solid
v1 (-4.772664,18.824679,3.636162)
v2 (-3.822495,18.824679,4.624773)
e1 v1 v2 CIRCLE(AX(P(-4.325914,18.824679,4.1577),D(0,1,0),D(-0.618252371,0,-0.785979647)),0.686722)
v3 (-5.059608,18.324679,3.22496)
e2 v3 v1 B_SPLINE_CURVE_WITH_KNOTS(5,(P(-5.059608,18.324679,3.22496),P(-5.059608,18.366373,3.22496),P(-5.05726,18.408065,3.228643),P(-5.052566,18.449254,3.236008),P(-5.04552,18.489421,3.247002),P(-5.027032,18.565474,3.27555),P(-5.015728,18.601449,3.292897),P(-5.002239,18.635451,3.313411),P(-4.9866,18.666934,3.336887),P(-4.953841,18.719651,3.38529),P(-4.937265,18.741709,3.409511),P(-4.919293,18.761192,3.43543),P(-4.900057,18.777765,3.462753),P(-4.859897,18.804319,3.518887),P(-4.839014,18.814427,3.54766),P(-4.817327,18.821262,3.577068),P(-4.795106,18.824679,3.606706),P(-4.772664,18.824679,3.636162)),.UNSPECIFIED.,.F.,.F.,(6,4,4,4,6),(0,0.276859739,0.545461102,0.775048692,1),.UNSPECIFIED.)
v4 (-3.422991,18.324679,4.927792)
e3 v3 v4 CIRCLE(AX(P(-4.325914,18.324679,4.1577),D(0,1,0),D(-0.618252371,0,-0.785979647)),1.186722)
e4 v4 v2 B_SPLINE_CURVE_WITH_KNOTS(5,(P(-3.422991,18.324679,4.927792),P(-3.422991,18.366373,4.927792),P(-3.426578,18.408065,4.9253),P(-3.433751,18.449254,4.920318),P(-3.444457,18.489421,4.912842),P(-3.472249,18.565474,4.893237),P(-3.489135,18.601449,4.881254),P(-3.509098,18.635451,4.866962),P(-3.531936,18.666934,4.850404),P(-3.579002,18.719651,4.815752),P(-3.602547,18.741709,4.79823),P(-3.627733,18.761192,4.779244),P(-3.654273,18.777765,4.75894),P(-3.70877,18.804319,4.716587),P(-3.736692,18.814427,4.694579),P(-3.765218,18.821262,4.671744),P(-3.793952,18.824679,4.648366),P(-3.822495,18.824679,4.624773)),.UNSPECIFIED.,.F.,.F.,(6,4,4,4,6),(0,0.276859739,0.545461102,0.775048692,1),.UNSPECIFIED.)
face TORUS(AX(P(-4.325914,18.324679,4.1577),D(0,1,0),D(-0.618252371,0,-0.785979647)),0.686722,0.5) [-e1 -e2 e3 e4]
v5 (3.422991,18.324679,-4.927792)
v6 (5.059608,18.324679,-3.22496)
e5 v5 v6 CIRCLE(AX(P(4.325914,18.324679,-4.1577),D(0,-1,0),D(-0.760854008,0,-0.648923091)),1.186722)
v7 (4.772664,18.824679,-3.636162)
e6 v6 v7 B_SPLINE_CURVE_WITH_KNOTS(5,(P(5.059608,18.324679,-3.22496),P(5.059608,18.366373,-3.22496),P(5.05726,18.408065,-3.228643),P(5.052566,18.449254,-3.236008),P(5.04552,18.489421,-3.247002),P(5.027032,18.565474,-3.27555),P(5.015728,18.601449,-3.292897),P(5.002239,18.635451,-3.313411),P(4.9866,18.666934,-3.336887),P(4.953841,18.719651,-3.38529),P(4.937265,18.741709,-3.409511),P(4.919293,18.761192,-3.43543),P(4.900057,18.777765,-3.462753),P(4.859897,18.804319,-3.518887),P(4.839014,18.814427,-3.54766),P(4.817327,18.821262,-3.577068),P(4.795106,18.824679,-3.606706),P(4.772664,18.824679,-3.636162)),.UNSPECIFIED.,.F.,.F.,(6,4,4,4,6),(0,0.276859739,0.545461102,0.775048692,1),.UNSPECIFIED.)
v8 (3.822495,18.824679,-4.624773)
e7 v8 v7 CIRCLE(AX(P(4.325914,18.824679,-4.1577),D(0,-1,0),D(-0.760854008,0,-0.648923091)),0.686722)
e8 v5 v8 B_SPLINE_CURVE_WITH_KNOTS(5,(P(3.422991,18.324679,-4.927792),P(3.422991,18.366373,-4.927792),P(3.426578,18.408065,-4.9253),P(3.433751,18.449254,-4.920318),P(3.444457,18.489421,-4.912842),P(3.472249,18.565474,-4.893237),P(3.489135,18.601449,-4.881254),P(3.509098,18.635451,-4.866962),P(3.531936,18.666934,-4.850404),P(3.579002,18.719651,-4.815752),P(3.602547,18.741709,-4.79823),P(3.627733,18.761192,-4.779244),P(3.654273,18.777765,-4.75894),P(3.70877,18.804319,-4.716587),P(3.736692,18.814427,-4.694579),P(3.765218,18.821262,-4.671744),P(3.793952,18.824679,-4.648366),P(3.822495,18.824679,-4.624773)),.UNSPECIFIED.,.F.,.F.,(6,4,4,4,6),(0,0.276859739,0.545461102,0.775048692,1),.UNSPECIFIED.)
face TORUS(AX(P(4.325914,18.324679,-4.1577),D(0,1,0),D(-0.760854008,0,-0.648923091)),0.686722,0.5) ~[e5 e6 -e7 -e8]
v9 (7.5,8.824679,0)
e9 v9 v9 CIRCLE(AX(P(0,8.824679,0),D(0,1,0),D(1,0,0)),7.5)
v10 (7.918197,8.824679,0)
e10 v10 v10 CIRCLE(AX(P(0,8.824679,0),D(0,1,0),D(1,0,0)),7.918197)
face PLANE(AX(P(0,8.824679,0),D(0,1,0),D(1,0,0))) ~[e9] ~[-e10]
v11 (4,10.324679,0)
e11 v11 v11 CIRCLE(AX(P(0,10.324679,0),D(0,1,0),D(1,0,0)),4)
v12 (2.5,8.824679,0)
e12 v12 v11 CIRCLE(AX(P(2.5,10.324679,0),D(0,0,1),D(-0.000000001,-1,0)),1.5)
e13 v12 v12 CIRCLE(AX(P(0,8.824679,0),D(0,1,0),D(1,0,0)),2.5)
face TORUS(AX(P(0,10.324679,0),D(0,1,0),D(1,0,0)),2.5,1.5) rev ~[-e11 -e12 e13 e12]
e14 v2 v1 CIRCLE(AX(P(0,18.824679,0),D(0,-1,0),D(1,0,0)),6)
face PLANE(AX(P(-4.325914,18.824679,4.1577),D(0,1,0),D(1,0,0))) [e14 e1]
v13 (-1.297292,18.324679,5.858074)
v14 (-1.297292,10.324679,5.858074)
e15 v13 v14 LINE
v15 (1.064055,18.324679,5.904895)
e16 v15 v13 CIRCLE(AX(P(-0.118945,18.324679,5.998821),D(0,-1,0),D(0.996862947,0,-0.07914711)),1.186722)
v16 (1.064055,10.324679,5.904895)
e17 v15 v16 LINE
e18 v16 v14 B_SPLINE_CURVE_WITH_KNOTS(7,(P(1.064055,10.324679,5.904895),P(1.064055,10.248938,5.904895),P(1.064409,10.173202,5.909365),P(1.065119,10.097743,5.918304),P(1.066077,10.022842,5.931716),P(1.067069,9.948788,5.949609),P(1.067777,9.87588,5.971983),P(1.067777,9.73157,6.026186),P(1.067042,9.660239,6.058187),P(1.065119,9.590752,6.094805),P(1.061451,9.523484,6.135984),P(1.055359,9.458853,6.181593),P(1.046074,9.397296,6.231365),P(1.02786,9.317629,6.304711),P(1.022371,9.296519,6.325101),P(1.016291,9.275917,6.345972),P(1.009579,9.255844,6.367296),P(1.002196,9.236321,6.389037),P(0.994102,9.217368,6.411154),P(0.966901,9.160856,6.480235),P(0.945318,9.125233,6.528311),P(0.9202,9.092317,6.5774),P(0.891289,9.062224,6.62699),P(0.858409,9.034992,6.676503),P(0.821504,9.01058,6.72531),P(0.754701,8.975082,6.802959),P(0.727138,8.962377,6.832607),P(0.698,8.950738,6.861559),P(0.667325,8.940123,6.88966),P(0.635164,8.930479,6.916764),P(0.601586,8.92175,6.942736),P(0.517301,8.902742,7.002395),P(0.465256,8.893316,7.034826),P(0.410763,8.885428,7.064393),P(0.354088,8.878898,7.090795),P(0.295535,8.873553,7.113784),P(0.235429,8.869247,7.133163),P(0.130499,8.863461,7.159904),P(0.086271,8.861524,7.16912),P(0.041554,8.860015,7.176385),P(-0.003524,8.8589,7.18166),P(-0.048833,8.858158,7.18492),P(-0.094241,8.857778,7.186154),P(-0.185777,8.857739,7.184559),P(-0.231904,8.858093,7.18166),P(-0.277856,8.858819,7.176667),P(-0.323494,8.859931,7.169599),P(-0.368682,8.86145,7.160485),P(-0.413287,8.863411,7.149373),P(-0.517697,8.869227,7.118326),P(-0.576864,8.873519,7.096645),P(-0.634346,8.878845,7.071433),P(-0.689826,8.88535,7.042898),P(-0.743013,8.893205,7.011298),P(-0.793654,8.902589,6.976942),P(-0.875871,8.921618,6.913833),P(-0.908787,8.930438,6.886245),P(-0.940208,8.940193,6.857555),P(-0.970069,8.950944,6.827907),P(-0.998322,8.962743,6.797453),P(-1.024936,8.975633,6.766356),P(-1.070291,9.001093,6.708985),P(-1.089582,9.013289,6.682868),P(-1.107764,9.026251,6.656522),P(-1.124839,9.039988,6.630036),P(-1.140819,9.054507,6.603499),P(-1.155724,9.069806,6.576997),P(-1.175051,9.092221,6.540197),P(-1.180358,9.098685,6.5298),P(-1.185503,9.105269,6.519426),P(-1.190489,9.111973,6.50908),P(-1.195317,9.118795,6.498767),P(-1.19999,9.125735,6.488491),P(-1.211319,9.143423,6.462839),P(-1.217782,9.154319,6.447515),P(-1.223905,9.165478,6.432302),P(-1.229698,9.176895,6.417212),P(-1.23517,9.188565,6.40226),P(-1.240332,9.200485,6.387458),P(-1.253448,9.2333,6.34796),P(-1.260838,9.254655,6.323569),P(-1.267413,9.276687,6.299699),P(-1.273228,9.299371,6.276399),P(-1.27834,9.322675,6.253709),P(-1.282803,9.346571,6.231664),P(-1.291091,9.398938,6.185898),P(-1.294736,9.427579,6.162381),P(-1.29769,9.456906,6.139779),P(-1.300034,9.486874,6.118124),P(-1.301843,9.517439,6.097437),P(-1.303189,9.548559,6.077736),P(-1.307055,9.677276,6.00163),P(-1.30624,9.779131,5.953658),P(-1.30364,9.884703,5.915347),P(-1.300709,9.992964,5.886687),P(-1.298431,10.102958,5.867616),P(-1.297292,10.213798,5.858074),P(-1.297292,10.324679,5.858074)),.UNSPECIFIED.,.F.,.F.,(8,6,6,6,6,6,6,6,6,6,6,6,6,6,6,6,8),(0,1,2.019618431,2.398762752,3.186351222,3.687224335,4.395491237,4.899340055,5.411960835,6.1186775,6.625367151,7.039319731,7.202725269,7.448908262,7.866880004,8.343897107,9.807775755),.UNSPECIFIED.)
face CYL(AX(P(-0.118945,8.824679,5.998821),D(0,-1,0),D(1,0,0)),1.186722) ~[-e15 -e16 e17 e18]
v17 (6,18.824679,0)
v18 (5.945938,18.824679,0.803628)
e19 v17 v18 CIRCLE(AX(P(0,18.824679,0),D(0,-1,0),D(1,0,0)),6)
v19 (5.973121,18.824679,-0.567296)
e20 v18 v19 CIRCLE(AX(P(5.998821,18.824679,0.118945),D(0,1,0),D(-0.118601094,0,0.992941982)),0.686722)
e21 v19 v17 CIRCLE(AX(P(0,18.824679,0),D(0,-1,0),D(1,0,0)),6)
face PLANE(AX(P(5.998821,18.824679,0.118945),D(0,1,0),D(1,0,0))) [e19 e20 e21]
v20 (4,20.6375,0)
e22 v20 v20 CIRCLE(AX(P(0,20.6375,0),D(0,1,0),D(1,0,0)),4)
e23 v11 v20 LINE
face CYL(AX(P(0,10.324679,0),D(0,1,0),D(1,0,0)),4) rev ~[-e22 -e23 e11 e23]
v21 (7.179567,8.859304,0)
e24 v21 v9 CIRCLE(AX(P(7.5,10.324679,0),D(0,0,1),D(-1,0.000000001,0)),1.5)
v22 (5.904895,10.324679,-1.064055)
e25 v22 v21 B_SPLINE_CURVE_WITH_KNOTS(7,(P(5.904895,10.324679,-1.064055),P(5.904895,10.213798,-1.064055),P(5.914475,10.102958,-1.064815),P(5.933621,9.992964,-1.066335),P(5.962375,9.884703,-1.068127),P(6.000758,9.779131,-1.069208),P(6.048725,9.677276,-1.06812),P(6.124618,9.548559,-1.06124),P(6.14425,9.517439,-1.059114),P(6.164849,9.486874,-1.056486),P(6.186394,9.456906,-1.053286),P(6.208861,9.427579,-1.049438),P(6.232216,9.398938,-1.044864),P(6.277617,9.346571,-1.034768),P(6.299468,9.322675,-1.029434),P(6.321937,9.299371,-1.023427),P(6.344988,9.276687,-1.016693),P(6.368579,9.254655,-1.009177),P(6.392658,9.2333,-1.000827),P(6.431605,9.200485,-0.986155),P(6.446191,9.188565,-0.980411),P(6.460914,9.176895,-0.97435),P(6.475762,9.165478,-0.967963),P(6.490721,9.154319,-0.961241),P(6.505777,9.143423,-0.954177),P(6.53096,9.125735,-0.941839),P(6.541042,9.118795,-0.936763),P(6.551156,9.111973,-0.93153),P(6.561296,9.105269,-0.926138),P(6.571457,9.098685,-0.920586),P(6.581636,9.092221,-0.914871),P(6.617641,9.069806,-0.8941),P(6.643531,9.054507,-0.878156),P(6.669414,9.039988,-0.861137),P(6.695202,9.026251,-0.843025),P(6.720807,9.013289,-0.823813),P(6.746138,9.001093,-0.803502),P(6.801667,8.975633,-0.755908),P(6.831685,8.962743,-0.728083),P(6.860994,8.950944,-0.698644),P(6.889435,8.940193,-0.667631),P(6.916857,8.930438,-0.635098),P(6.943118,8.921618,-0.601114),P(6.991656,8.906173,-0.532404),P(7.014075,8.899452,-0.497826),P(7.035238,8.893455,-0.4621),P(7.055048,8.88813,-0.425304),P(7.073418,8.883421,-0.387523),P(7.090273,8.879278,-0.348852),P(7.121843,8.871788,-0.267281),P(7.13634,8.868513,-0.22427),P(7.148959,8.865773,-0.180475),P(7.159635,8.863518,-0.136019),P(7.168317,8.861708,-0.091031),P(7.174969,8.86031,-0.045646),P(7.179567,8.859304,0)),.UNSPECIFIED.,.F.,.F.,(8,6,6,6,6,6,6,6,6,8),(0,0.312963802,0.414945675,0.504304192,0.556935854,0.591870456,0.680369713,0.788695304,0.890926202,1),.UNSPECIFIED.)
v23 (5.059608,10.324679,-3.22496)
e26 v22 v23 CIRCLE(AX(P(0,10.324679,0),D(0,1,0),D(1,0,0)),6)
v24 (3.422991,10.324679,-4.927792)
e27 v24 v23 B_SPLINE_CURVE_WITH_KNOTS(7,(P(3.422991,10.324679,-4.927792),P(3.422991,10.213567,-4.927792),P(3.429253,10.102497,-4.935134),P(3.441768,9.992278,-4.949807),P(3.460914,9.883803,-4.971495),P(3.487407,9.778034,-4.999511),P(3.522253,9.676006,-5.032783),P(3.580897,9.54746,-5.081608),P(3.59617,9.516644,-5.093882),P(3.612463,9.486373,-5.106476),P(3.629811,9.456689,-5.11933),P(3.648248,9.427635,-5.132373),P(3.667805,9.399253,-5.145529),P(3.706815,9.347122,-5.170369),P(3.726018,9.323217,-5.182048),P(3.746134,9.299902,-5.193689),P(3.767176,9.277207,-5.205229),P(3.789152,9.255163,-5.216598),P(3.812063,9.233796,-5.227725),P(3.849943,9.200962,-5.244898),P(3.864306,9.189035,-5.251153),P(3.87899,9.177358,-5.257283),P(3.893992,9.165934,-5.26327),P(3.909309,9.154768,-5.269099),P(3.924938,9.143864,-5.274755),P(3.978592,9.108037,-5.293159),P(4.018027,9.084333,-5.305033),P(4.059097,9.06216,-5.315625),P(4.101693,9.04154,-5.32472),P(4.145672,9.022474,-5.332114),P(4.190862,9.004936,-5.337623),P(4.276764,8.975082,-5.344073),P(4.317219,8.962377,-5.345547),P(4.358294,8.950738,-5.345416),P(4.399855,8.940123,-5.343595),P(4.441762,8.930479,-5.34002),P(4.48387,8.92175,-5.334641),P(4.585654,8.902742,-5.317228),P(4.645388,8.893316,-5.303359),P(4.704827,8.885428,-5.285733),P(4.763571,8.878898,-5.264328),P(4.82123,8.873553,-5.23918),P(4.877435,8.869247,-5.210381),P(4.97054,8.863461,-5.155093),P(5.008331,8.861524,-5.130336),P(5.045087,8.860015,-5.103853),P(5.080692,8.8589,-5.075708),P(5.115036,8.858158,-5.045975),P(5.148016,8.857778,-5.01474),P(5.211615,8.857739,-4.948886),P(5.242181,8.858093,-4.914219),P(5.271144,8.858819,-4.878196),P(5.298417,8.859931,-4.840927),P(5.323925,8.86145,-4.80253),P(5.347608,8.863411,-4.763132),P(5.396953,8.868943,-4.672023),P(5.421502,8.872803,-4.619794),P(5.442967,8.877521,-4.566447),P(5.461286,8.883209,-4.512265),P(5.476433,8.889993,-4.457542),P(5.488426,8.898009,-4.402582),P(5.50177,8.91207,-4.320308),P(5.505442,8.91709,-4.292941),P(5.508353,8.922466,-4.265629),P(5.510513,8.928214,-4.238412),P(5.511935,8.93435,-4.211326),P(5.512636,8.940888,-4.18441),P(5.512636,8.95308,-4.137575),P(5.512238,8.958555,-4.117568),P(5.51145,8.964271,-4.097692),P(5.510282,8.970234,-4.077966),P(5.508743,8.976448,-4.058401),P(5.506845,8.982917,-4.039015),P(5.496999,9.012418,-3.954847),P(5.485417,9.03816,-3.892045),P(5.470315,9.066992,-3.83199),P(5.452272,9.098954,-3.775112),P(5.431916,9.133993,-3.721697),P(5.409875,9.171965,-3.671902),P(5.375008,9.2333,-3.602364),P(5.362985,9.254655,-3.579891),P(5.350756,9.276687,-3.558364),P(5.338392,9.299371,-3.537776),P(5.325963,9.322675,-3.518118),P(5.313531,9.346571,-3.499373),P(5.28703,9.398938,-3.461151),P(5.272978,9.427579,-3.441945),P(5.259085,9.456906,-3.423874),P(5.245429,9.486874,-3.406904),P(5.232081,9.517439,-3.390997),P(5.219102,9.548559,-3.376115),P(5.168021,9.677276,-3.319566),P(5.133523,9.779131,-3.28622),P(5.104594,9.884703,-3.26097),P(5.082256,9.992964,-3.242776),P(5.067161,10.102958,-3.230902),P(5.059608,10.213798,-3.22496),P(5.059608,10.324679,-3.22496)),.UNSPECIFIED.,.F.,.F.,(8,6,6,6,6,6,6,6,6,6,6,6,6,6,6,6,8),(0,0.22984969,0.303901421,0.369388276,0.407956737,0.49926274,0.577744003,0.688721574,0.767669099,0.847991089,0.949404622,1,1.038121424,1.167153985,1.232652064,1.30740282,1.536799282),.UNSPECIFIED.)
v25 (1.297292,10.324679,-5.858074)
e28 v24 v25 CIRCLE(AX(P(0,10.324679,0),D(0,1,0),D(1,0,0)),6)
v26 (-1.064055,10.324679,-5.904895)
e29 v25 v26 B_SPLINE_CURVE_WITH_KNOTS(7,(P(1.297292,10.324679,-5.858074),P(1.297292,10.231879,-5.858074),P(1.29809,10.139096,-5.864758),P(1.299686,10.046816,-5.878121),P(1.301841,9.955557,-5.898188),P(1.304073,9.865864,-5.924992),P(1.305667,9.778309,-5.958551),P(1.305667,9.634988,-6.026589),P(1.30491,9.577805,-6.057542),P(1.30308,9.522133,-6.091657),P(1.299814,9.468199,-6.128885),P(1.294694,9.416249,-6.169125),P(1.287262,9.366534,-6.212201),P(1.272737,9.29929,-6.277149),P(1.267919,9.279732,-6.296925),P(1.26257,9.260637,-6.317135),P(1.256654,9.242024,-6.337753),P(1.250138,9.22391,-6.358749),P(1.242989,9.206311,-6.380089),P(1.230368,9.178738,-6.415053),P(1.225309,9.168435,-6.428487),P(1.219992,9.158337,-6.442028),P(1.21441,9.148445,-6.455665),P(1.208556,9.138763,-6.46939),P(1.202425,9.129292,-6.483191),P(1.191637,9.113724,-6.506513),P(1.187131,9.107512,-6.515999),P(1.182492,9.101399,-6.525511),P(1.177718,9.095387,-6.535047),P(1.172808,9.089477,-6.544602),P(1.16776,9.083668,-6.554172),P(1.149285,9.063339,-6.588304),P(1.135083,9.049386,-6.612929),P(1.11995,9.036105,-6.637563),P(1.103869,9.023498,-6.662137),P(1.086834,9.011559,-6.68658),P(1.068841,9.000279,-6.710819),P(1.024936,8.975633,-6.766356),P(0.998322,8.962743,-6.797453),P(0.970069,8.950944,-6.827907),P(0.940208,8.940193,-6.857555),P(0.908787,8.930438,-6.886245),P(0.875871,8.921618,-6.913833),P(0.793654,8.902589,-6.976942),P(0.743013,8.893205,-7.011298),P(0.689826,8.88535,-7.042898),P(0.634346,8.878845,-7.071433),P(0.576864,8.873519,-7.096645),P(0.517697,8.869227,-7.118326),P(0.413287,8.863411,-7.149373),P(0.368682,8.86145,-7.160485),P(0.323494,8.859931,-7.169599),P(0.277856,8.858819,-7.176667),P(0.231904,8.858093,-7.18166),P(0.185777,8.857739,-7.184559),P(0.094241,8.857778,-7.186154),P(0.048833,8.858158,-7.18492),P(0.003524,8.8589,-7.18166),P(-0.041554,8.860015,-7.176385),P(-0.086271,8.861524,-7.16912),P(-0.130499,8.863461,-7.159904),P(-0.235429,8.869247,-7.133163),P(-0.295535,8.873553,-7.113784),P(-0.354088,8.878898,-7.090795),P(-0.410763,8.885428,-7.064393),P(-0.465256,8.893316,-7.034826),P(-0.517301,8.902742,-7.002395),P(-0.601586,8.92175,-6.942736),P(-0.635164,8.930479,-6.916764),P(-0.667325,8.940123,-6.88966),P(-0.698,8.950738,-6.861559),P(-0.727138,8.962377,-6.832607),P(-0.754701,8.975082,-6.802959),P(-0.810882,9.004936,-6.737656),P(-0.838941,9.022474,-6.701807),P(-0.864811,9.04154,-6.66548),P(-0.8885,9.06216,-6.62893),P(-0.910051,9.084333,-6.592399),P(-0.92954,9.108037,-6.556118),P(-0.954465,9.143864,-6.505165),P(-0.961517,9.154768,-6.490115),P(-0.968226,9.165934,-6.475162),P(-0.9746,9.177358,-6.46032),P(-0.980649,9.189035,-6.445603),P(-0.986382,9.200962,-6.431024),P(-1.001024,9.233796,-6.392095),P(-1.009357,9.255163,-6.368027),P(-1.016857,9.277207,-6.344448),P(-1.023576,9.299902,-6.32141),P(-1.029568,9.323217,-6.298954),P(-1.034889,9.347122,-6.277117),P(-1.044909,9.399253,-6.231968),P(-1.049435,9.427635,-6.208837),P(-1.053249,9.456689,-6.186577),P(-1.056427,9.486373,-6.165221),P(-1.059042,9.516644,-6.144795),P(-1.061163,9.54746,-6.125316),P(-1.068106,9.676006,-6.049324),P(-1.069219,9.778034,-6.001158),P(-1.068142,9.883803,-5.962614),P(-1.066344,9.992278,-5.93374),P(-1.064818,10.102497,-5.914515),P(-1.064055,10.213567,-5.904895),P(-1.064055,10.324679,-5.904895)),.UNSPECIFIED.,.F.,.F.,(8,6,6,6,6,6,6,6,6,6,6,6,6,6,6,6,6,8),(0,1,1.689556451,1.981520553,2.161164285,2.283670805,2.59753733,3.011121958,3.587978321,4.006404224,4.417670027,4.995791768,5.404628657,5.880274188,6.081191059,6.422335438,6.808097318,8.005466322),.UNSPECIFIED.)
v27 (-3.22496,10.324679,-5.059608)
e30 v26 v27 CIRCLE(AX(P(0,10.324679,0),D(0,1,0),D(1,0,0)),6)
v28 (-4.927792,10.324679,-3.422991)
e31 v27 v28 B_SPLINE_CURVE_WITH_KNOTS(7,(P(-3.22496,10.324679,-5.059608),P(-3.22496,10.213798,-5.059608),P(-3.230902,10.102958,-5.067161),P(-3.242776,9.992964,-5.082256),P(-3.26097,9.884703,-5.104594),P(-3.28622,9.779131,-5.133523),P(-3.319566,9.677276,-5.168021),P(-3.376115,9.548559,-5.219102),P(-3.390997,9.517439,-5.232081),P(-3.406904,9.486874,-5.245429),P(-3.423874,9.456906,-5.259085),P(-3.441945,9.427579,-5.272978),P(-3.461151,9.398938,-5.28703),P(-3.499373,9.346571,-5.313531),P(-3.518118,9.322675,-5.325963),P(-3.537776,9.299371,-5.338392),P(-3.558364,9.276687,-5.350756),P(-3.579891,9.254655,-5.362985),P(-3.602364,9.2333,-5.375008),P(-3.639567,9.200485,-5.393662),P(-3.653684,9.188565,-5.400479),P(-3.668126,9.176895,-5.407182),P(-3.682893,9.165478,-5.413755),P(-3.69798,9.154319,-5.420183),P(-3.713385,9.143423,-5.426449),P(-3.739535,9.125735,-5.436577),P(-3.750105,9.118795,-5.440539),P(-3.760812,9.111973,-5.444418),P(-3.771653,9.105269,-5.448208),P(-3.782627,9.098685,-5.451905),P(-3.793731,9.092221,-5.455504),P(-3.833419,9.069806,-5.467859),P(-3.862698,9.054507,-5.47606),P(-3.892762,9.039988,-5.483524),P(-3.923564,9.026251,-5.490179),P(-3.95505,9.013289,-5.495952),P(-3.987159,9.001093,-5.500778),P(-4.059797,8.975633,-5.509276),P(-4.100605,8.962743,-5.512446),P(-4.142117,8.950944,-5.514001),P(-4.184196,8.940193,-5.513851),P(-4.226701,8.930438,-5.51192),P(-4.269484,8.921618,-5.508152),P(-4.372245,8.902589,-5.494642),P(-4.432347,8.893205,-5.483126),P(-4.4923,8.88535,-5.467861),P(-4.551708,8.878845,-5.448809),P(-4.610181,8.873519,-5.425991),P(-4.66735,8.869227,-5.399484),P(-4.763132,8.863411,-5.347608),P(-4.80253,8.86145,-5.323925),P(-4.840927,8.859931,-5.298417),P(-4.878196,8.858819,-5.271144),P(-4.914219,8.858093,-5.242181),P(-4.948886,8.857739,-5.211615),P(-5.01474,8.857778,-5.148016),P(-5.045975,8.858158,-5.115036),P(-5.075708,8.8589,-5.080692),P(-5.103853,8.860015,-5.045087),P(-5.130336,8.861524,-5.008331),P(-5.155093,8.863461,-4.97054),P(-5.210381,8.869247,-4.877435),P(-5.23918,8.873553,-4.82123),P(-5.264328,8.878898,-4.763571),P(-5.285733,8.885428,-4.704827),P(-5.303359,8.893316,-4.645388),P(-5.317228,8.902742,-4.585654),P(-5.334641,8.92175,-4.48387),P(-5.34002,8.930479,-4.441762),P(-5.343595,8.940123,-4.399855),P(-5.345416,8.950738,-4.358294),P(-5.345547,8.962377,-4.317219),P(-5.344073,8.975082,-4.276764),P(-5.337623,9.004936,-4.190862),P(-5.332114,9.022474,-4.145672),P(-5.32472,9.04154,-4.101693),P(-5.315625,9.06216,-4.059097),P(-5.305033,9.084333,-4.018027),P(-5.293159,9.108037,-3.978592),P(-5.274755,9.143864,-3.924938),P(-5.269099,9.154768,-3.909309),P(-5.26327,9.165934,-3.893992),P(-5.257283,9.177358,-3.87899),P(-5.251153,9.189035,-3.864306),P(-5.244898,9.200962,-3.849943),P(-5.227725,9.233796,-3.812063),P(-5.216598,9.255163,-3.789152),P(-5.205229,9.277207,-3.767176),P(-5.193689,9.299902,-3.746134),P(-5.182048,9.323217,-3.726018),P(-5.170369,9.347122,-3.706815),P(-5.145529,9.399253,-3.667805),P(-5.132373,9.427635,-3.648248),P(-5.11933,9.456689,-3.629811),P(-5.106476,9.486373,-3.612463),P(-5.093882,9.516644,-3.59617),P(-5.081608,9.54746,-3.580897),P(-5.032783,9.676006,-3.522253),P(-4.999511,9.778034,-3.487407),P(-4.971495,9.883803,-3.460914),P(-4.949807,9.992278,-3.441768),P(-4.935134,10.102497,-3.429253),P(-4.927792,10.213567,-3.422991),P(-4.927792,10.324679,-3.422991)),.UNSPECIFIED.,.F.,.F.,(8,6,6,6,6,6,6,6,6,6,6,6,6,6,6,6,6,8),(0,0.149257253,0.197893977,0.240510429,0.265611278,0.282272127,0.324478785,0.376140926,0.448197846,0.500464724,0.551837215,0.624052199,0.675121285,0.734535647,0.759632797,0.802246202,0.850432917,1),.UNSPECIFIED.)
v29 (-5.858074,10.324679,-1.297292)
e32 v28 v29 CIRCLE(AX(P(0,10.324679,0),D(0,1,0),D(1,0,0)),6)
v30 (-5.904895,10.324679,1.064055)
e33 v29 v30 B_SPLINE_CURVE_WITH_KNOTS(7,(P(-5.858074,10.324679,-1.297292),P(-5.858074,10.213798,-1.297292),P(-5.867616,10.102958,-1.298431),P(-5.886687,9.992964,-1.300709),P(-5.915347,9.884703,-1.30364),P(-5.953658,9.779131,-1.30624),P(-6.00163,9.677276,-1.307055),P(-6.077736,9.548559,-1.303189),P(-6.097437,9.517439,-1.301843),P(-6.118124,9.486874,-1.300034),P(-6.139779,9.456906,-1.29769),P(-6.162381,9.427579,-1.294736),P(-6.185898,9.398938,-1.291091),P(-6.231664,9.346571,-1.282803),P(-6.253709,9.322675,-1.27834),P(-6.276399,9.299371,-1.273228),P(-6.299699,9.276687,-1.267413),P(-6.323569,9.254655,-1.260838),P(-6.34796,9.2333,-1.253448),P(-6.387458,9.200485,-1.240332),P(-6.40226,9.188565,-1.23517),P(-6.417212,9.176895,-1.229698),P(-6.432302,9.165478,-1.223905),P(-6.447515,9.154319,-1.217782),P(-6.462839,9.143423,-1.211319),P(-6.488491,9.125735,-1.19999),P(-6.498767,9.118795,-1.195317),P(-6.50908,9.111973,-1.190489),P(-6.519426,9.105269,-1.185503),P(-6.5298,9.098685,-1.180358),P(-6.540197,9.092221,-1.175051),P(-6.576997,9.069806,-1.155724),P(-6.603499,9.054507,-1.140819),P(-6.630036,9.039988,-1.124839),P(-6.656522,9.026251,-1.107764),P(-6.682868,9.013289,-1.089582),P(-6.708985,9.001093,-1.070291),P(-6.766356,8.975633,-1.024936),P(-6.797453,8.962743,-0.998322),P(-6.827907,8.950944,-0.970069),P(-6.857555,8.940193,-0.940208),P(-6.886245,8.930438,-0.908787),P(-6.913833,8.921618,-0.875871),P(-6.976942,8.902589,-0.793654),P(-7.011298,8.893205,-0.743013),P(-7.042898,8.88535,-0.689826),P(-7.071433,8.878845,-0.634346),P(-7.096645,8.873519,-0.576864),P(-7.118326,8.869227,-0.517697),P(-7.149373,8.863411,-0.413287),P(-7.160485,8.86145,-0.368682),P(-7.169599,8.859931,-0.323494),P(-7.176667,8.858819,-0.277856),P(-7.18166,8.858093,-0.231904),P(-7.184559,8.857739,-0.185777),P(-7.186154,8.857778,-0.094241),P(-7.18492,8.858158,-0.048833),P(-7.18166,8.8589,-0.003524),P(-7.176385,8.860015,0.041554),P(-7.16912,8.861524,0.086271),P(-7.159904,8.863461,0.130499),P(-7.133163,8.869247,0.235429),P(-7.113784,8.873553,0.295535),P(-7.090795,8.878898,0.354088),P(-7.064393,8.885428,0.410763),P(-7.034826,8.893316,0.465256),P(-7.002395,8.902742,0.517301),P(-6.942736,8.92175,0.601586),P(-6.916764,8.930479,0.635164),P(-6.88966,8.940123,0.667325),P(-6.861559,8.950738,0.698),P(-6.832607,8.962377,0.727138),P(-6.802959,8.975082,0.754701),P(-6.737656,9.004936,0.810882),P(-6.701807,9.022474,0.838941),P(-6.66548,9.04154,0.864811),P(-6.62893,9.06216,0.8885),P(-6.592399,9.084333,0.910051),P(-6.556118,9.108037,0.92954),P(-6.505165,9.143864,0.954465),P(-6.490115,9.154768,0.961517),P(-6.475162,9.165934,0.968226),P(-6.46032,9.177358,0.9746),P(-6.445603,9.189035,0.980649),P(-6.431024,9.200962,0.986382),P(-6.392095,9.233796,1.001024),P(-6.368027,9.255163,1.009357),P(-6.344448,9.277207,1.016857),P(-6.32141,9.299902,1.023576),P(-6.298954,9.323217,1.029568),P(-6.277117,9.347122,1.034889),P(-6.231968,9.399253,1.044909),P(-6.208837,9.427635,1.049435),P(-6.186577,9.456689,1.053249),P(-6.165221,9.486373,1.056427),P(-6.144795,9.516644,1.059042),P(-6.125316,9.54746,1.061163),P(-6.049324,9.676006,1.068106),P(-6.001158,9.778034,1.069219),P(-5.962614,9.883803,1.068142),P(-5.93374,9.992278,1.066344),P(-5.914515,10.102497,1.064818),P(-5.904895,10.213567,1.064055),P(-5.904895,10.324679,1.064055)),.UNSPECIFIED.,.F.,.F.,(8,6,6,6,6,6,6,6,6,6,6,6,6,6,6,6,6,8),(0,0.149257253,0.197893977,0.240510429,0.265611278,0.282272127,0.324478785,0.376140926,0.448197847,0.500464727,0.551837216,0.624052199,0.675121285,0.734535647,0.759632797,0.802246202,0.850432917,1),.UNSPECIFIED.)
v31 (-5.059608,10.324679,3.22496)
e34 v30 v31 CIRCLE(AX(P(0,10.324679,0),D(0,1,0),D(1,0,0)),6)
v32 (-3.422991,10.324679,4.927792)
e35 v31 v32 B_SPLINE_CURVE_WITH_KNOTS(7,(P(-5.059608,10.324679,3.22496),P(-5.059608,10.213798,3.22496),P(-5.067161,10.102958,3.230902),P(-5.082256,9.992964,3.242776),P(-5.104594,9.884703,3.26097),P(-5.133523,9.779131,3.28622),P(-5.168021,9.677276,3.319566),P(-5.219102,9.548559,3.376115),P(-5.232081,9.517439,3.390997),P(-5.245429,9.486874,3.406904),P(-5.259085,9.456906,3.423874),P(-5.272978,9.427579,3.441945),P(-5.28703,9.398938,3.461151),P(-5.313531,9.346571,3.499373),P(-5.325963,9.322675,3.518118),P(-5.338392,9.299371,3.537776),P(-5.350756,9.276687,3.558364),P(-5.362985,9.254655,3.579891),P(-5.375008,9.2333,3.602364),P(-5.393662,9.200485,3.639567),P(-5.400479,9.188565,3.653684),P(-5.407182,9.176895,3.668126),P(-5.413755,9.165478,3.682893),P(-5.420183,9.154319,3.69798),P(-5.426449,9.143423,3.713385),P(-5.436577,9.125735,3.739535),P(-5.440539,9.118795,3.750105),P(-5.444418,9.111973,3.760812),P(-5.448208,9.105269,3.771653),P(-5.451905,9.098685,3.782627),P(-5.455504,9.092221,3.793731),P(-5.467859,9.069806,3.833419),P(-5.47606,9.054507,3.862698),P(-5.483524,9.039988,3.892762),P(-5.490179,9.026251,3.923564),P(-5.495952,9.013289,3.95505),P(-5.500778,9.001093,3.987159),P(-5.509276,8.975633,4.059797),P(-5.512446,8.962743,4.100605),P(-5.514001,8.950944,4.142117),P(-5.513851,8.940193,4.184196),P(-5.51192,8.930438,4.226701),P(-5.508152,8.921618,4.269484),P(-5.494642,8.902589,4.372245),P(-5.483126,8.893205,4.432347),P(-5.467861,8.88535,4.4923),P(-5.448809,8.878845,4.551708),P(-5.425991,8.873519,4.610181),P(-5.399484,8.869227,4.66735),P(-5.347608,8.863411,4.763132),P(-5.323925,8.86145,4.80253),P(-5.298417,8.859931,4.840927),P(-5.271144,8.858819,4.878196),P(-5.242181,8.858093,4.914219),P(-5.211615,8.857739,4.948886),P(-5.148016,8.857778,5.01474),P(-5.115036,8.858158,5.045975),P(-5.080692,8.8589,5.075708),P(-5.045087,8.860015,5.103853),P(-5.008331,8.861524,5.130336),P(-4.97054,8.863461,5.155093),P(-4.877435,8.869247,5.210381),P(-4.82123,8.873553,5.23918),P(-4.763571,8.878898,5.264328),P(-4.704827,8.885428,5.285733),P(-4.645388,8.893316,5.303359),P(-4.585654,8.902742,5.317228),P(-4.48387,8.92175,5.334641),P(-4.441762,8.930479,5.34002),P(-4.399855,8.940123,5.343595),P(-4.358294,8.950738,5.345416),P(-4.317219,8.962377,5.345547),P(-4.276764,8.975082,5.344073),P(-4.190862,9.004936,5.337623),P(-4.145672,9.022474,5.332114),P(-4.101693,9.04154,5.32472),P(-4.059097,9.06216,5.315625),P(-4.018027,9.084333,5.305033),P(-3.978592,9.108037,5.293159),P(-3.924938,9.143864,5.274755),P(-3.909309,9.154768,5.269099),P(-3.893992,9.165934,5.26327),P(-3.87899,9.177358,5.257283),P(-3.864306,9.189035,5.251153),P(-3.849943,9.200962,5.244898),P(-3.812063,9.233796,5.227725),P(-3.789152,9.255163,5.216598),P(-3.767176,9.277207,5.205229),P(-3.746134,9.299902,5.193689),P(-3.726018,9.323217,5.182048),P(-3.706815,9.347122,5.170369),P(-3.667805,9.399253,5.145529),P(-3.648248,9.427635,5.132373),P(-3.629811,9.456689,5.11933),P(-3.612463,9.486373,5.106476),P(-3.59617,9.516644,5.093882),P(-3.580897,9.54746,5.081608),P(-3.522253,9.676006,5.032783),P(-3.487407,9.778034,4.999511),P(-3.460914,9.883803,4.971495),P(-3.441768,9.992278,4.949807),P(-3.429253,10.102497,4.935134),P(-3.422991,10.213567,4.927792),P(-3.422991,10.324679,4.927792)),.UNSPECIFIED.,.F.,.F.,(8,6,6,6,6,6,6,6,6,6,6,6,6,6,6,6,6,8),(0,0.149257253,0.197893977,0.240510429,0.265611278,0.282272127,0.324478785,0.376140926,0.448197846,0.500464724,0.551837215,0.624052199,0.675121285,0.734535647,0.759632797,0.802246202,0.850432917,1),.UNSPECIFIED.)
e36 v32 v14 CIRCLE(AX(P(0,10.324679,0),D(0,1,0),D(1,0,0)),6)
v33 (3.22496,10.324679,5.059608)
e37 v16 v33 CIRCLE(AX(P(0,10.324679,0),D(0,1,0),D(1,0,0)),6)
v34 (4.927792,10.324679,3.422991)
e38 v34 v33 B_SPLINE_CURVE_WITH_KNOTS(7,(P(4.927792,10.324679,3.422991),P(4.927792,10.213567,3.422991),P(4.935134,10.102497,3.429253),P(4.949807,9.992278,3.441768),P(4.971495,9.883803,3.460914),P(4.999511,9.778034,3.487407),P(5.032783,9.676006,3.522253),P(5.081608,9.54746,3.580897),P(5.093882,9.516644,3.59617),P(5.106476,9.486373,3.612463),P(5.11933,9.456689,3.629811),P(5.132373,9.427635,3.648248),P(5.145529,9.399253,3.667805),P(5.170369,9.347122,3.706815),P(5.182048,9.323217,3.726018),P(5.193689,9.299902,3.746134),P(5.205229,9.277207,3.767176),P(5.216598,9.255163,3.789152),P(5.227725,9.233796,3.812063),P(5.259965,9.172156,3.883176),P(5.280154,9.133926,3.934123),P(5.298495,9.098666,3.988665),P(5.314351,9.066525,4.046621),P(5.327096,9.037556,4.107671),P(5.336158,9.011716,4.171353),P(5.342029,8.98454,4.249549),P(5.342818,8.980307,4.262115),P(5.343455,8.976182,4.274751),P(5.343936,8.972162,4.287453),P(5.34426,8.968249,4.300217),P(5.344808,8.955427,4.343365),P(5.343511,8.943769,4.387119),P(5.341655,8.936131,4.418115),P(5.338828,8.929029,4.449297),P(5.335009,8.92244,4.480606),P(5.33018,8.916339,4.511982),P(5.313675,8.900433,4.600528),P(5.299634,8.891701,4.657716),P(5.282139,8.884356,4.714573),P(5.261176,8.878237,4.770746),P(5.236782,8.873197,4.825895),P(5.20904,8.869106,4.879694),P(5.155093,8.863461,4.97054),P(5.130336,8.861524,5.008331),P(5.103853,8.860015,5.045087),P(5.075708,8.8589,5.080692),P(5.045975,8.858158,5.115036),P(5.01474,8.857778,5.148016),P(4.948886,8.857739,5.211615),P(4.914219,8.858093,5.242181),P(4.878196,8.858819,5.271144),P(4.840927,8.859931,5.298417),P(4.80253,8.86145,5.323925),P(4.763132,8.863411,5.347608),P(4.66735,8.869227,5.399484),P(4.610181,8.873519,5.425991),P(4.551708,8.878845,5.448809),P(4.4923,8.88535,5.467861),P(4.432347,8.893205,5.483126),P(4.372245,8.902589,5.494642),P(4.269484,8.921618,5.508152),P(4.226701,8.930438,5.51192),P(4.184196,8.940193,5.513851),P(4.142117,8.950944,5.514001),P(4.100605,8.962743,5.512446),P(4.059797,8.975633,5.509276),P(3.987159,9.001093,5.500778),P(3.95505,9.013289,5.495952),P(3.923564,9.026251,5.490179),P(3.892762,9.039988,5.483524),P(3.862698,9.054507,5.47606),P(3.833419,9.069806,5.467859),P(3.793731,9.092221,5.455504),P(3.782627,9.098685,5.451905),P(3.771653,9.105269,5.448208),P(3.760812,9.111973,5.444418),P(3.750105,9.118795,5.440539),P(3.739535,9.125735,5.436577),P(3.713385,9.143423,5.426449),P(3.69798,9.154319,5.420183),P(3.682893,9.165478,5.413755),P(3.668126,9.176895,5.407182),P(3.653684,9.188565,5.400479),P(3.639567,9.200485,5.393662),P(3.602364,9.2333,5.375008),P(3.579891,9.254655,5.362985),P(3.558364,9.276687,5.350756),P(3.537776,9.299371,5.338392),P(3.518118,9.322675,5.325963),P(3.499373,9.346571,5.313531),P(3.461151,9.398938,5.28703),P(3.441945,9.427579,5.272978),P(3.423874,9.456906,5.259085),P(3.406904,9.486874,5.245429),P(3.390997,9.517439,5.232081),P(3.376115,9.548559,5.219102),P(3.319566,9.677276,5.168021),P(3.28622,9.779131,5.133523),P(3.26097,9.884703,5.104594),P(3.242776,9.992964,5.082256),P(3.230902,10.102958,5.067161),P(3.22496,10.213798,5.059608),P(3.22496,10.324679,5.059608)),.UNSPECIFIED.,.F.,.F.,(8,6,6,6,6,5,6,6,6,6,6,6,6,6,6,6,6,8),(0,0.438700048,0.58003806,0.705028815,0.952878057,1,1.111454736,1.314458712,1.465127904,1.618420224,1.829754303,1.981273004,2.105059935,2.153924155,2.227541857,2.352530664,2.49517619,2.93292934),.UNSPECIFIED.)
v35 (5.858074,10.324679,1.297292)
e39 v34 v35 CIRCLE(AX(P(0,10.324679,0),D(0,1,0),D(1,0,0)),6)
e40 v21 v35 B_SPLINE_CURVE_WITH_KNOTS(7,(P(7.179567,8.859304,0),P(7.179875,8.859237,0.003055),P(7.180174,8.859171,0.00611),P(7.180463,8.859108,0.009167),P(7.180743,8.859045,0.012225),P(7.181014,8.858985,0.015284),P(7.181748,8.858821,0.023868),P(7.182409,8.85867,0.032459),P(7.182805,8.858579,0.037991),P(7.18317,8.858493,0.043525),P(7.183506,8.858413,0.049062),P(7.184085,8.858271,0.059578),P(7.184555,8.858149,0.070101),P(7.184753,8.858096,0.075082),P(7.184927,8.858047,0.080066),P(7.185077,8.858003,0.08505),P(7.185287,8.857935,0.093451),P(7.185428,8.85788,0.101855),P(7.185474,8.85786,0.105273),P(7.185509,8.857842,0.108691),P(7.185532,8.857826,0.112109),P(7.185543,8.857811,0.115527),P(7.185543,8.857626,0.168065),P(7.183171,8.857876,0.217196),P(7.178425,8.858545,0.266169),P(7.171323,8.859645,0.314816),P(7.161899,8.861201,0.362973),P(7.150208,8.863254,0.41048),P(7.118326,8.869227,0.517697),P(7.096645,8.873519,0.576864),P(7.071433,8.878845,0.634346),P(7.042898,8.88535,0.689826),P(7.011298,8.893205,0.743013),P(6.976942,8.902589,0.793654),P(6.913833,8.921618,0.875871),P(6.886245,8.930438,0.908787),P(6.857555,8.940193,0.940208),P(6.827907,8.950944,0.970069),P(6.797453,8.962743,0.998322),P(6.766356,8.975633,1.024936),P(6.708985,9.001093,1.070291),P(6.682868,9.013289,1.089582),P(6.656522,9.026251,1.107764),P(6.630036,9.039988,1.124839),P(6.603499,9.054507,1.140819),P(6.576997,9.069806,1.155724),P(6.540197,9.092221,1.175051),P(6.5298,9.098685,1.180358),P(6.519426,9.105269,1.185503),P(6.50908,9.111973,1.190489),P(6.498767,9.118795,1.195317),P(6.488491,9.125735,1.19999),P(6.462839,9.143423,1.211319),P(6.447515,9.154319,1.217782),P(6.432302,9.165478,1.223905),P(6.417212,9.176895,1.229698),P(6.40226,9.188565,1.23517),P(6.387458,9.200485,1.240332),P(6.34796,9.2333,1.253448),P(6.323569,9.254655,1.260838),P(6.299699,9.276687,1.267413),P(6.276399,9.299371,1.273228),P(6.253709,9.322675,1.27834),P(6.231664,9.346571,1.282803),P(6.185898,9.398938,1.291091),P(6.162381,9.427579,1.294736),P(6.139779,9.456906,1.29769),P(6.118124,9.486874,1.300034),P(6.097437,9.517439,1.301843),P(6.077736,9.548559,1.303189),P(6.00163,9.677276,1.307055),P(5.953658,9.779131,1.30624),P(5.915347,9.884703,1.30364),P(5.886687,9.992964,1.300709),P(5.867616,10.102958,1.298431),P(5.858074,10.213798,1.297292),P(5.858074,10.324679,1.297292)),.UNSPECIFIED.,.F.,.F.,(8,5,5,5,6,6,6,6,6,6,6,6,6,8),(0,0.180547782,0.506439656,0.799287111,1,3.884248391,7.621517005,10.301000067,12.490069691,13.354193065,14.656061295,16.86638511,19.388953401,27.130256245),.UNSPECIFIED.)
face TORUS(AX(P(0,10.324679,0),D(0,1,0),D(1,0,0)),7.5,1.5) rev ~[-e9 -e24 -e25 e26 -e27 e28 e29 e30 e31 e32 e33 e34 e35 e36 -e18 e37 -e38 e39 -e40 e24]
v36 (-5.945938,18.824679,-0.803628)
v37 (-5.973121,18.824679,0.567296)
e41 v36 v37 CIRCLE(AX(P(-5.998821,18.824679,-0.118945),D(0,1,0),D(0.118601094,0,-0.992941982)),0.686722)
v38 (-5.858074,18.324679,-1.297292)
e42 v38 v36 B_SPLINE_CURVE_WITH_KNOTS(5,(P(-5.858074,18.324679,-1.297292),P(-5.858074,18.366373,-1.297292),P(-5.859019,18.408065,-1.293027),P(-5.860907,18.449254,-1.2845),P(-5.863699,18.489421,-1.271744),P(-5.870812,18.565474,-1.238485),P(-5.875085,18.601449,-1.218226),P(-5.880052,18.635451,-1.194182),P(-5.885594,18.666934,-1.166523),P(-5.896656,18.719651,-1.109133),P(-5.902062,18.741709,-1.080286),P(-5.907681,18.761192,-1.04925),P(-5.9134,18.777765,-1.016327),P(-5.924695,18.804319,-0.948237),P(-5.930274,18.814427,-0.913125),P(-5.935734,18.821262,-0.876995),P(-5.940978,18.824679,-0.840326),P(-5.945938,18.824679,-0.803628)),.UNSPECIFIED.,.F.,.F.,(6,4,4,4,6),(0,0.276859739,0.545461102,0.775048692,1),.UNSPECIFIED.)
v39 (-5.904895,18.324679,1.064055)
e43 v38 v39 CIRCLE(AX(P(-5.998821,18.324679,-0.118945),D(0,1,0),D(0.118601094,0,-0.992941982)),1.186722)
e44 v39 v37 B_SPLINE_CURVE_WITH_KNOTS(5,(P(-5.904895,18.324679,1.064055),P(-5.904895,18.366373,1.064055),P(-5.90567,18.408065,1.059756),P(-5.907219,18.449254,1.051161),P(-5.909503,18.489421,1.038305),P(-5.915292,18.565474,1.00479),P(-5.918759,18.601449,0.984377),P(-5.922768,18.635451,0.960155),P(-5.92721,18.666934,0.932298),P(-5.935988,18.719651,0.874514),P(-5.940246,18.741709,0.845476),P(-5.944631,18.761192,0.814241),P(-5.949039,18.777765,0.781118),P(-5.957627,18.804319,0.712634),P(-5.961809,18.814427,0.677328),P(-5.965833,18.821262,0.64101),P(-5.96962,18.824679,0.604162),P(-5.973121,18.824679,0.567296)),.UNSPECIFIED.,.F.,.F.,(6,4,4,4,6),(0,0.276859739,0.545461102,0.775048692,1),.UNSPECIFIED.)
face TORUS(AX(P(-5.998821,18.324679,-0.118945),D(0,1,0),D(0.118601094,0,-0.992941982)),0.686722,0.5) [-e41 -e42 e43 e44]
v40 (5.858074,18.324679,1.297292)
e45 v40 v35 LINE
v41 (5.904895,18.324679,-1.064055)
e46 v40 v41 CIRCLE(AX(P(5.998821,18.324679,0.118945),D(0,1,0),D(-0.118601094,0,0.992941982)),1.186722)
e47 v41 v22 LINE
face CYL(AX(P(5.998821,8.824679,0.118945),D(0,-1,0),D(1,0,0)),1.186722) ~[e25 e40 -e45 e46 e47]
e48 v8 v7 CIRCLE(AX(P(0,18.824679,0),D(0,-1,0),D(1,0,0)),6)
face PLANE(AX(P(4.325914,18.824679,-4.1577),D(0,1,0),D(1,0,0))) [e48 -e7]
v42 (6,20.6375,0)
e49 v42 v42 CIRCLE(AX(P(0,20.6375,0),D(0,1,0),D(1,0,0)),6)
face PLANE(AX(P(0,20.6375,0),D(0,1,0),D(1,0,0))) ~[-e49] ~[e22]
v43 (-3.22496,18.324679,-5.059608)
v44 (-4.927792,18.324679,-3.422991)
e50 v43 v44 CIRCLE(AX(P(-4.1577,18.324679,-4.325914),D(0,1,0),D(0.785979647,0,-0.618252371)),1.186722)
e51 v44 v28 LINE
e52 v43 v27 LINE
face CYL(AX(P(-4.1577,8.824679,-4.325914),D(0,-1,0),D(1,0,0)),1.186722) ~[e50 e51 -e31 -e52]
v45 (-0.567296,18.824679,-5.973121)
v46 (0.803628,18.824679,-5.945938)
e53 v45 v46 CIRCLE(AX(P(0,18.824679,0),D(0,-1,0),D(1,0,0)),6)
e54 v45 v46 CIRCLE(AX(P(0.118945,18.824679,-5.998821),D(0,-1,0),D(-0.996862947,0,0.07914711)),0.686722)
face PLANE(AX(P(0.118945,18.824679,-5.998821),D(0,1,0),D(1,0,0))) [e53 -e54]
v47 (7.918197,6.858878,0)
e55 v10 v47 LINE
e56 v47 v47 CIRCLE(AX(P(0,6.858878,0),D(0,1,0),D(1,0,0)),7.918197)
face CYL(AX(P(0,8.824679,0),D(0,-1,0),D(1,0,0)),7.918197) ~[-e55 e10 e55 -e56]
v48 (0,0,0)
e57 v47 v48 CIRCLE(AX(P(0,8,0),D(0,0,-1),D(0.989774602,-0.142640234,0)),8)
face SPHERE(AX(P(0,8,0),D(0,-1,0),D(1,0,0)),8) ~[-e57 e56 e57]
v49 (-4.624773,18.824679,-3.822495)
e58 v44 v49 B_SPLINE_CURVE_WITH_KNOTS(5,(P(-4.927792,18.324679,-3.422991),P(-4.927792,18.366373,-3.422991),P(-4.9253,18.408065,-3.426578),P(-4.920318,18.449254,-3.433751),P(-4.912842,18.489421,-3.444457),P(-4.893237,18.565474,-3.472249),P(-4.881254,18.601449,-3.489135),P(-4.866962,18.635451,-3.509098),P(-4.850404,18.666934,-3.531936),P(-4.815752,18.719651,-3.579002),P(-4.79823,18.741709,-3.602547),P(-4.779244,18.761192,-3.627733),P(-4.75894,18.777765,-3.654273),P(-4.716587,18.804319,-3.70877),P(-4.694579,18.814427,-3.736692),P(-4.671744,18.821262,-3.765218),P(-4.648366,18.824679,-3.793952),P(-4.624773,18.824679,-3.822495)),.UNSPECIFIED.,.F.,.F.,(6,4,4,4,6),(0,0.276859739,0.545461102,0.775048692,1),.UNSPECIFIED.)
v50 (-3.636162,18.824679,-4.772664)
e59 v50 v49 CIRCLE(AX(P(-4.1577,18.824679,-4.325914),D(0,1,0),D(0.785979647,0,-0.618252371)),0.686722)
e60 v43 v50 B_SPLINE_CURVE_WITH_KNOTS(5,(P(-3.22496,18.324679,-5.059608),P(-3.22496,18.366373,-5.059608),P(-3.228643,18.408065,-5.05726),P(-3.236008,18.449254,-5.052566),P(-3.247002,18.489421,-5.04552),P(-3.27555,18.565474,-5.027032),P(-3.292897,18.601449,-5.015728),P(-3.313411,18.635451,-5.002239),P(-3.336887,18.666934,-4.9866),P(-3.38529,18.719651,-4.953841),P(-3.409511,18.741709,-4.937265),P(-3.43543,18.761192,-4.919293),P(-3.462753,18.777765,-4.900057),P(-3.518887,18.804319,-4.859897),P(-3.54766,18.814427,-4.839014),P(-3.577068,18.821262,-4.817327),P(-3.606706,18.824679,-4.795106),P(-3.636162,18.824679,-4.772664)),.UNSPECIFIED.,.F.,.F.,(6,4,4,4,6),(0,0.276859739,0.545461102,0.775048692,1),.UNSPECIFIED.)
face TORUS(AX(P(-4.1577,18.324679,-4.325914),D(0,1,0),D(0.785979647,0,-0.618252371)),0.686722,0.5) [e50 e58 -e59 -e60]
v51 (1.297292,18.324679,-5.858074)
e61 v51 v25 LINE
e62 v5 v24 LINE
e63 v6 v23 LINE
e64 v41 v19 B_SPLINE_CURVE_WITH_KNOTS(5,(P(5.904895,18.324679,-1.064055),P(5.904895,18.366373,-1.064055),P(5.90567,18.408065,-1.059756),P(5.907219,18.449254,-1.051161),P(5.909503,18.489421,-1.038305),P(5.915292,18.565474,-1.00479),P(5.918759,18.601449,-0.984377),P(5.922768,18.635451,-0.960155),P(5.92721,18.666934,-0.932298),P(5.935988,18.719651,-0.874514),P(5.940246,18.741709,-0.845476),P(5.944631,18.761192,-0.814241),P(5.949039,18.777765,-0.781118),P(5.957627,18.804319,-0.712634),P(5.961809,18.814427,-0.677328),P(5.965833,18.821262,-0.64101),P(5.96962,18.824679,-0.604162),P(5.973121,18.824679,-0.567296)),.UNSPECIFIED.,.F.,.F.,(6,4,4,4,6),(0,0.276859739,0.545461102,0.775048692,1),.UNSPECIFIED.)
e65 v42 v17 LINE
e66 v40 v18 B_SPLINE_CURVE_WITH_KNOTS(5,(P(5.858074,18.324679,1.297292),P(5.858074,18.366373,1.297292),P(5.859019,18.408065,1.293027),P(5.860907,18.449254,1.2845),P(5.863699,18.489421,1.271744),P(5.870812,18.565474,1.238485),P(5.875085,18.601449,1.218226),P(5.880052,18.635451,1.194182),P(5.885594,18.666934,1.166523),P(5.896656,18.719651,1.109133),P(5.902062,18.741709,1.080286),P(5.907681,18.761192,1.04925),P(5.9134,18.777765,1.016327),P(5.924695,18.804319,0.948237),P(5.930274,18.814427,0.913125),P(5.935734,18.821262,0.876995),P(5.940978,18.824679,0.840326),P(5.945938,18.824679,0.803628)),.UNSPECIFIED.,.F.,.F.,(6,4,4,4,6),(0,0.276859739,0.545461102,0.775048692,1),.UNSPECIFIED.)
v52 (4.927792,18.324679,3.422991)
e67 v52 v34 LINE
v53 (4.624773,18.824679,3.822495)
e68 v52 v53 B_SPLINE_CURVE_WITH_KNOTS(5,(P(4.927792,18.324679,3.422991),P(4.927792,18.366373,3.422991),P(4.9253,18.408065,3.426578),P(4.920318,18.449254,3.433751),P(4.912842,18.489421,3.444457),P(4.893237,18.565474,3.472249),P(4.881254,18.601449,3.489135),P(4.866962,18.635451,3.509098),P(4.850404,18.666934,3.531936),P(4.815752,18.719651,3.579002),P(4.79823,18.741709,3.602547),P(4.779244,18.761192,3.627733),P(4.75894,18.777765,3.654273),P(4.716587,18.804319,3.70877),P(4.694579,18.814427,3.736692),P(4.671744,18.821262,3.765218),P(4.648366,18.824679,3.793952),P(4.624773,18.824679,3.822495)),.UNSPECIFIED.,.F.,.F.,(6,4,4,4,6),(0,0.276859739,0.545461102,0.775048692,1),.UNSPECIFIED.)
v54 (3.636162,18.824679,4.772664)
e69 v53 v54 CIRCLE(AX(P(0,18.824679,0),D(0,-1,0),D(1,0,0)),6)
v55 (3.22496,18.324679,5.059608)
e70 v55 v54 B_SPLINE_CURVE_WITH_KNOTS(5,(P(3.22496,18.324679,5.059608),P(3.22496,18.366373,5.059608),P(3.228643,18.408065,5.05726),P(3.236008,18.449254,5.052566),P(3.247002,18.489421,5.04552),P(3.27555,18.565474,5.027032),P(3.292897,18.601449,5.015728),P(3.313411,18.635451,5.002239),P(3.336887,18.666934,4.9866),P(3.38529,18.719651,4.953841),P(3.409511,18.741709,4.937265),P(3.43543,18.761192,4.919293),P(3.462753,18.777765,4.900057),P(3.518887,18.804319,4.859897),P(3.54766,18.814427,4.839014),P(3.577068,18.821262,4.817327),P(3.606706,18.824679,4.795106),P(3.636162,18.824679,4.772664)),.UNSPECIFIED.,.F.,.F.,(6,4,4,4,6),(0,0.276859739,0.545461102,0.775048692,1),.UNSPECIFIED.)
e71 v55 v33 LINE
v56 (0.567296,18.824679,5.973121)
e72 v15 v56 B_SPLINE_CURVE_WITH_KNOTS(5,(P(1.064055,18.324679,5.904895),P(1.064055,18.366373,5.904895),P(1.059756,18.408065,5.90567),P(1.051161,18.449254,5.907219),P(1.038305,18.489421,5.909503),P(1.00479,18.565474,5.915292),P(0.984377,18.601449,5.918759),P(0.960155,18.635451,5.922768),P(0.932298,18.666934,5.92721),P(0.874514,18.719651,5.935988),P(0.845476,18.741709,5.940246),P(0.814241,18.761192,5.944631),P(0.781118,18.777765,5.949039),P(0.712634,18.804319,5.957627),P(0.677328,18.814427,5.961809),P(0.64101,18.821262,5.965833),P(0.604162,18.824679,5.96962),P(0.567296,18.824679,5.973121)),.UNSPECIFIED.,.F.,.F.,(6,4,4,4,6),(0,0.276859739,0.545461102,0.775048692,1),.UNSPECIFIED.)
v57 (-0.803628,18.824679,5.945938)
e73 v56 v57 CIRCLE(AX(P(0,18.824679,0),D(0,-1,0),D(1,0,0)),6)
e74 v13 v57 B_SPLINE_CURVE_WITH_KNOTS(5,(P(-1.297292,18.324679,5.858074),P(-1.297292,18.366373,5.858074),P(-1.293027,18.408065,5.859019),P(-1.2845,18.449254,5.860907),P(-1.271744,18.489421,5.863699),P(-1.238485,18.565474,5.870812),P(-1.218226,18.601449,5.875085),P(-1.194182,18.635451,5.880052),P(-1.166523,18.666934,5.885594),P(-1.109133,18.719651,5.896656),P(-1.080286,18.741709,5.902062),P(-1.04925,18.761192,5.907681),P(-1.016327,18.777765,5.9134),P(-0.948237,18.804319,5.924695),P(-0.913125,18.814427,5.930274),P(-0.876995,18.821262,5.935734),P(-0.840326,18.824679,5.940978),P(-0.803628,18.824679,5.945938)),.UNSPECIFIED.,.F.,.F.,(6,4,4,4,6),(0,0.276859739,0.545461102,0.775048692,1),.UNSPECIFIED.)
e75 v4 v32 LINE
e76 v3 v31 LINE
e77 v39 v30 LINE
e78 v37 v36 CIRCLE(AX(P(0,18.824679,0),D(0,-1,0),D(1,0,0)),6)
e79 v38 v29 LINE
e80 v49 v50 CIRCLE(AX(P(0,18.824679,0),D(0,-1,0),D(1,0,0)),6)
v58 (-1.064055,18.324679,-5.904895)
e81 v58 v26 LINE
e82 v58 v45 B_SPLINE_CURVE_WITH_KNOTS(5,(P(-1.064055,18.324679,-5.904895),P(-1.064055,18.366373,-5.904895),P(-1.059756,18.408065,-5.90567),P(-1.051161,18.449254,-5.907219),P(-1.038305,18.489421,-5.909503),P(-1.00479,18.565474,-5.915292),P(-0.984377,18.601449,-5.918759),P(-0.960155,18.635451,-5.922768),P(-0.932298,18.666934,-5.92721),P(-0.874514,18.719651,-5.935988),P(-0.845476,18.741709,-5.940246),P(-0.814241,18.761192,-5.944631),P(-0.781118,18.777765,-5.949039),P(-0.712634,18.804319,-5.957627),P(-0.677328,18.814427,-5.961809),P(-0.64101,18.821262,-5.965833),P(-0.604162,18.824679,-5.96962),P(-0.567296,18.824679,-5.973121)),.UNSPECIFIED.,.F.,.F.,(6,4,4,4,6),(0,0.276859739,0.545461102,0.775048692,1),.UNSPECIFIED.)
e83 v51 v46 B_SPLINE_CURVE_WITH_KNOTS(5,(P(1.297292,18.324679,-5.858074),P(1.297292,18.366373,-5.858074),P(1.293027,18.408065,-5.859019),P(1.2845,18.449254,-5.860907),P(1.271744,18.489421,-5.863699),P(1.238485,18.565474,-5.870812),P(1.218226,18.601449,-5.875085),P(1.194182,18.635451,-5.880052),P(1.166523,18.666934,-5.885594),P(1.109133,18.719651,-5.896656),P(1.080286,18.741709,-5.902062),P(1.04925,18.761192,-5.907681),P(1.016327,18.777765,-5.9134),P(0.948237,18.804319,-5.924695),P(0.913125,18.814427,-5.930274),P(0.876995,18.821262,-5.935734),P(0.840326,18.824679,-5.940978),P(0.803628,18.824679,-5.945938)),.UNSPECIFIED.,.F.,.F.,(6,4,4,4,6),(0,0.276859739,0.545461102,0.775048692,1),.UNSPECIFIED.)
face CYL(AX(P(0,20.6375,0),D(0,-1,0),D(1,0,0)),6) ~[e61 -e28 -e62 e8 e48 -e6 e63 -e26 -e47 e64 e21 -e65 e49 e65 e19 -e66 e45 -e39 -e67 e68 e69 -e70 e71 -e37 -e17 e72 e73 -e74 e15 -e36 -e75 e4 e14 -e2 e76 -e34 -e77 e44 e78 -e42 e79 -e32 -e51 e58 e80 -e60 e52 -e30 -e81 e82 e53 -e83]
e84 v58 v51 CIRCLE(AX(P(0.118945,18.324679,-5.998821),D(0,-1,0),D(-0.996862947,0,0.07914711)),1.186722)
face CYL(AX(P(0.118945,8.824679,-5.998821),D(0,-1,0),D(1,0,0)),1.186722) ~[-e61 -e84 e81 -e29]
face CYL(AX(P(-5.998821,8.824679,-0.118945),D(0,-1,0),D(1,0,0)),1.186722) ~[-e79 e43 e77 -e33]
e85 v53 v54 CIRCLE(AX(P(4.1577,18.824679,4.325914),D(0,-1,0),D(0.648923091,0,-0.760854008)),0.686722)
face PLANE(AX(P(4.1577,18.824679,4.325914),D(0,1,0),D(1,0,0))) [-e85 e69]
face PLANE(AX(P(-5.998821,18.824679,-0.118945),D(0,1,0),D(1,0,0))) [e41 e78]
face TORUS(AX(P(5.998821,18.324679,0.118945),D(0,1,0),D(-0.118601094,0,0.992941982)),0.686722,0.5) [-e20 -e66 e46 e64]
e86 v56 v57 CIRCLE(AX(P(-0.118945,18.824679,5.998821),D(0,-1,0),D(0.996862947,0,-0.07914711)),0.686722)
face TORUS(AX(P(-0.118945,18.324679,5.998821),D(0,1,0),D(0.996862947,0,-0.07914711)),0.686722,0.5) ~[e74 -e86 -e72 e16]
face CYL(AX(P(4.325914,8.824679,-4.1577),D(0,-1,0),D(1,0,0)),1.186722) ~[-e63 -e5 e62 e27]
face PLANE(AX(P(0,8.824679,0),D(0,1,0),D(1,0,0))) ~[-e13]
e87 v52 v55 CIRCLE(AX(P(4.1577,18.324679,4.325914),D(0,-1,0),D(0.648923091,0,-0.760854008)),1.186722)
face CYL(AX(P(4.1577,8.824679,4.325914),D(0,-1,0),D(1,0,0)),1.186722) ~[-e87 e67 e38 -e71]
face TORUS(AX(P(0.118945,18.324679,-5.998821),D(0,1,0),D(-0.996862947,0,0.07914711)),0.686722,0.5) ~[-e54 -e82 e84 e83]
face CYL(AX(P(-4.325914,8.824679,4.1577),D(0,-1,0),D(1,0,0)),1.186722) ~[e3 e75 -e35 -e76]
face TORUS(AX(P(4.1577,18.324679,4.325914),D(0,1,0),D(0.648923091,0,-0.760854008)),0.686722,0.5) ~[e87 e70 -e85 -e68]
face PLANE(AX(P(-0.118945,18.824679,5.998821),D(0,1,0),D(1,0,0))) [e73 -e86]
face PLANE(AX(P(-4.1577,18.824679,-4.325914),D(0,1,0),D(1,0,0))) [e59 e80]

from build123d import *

# Parameters (mm, degrees)
SKETCH2_R           = 1.186722436
BOSS_EXTRUDE1_DEPTH = 10
FILLET1_R           = 0.5


with BuildPart() as part:
    # Sketch1 → Revolve1 (revolve)
    with BuildSketch(Plane.XY):
        with BuildLine():
            Line((0, 0), (0, 8.82467879))
            Line((0, 8.82467879), (2.5, 8.82467879))
            ThreePointArc((2.5, 8.82467879), (3.560660172, 9.264018618), (4, 10.32467879))
            Line((4, 10.32467879), (4, 20.6375))
            Line((4, 20.6375), (6, 20.6375))
            Line((6, 20.6375), (6, 10.32467879))
            ThreePointArc((6, 10.32467879), (6.439339828, 9.264018618), (7.5, 8.82467879))
            Line((7.5, 8.82467879), (7.918196819, 8.82467879))
            Line((7.918196819, 8.82467879), (7.918196819, 6.858878126))
            ThreePointArc((7.918196819, 6.858878126), (5.237891991, 1.953142345), (0, 0))
        make_face()
    revolve(axis=Axis((0, 0, 0), (0, 1, 0)))

    # Sketch2 → Boss-Extrude1 (add)
    with BuildSketch(Plane(origin=(0, 8.82467879, 0), x_dir=(1, 0, 0), z_dir=(0, 1, 0))):
        with Locations((0.118945018, 5.998820891)):
            Circle(SKETCH2_R)
        with Locations((4.32591376, 4.157700103)):
            Circle(SKETCH2_R)
        with Locations((5.998820891, -0.118945018)):
            Circle(SKETCH2_R)
        with Locations((4.157700103, -4.32591376)):
            Circle(SKETCH2_R)
        with Locations((-0.118945018, -5.998820891)):
            Circle(SKETCH2_R)
        with Locations((-4.32591376, -4.157700103)):
            Circle(SKETCH2_R)
        with Locations((-5.998820891, 0.118945018)):
            Circle(SKETCH2_R)
        with Locations((-4.157700103, 4.32591376)):
            Circle(SKETCH2_R)
    extrude(amount=BOSS_EXTRUDE1_DEPTH)

    # Fillet1
    fillet1_edges = [part.edges().sort_by_distance(p)[0] for p in [
        (0.142470804, 18.82467879, -7.185310114),
        (5.181523579, 18.82467879, -4.980039435),
        (7.185310114, 18.82467879, 0.142470804),
        (4.980039435, 18.82467879, 5.181523579),
        (-0.142470804, 18.82467879, 7.185310114),
        (-5.181523579, 18.82467879, 4.980039435),
        (-7.185310114, 18.82467879, -0.142470804),
        (-4.980039435, 18.82467879, -5.181523579),
    ]]
    fillet(fillet1_edges, radius=FILLET1_R)


solid = part.part
